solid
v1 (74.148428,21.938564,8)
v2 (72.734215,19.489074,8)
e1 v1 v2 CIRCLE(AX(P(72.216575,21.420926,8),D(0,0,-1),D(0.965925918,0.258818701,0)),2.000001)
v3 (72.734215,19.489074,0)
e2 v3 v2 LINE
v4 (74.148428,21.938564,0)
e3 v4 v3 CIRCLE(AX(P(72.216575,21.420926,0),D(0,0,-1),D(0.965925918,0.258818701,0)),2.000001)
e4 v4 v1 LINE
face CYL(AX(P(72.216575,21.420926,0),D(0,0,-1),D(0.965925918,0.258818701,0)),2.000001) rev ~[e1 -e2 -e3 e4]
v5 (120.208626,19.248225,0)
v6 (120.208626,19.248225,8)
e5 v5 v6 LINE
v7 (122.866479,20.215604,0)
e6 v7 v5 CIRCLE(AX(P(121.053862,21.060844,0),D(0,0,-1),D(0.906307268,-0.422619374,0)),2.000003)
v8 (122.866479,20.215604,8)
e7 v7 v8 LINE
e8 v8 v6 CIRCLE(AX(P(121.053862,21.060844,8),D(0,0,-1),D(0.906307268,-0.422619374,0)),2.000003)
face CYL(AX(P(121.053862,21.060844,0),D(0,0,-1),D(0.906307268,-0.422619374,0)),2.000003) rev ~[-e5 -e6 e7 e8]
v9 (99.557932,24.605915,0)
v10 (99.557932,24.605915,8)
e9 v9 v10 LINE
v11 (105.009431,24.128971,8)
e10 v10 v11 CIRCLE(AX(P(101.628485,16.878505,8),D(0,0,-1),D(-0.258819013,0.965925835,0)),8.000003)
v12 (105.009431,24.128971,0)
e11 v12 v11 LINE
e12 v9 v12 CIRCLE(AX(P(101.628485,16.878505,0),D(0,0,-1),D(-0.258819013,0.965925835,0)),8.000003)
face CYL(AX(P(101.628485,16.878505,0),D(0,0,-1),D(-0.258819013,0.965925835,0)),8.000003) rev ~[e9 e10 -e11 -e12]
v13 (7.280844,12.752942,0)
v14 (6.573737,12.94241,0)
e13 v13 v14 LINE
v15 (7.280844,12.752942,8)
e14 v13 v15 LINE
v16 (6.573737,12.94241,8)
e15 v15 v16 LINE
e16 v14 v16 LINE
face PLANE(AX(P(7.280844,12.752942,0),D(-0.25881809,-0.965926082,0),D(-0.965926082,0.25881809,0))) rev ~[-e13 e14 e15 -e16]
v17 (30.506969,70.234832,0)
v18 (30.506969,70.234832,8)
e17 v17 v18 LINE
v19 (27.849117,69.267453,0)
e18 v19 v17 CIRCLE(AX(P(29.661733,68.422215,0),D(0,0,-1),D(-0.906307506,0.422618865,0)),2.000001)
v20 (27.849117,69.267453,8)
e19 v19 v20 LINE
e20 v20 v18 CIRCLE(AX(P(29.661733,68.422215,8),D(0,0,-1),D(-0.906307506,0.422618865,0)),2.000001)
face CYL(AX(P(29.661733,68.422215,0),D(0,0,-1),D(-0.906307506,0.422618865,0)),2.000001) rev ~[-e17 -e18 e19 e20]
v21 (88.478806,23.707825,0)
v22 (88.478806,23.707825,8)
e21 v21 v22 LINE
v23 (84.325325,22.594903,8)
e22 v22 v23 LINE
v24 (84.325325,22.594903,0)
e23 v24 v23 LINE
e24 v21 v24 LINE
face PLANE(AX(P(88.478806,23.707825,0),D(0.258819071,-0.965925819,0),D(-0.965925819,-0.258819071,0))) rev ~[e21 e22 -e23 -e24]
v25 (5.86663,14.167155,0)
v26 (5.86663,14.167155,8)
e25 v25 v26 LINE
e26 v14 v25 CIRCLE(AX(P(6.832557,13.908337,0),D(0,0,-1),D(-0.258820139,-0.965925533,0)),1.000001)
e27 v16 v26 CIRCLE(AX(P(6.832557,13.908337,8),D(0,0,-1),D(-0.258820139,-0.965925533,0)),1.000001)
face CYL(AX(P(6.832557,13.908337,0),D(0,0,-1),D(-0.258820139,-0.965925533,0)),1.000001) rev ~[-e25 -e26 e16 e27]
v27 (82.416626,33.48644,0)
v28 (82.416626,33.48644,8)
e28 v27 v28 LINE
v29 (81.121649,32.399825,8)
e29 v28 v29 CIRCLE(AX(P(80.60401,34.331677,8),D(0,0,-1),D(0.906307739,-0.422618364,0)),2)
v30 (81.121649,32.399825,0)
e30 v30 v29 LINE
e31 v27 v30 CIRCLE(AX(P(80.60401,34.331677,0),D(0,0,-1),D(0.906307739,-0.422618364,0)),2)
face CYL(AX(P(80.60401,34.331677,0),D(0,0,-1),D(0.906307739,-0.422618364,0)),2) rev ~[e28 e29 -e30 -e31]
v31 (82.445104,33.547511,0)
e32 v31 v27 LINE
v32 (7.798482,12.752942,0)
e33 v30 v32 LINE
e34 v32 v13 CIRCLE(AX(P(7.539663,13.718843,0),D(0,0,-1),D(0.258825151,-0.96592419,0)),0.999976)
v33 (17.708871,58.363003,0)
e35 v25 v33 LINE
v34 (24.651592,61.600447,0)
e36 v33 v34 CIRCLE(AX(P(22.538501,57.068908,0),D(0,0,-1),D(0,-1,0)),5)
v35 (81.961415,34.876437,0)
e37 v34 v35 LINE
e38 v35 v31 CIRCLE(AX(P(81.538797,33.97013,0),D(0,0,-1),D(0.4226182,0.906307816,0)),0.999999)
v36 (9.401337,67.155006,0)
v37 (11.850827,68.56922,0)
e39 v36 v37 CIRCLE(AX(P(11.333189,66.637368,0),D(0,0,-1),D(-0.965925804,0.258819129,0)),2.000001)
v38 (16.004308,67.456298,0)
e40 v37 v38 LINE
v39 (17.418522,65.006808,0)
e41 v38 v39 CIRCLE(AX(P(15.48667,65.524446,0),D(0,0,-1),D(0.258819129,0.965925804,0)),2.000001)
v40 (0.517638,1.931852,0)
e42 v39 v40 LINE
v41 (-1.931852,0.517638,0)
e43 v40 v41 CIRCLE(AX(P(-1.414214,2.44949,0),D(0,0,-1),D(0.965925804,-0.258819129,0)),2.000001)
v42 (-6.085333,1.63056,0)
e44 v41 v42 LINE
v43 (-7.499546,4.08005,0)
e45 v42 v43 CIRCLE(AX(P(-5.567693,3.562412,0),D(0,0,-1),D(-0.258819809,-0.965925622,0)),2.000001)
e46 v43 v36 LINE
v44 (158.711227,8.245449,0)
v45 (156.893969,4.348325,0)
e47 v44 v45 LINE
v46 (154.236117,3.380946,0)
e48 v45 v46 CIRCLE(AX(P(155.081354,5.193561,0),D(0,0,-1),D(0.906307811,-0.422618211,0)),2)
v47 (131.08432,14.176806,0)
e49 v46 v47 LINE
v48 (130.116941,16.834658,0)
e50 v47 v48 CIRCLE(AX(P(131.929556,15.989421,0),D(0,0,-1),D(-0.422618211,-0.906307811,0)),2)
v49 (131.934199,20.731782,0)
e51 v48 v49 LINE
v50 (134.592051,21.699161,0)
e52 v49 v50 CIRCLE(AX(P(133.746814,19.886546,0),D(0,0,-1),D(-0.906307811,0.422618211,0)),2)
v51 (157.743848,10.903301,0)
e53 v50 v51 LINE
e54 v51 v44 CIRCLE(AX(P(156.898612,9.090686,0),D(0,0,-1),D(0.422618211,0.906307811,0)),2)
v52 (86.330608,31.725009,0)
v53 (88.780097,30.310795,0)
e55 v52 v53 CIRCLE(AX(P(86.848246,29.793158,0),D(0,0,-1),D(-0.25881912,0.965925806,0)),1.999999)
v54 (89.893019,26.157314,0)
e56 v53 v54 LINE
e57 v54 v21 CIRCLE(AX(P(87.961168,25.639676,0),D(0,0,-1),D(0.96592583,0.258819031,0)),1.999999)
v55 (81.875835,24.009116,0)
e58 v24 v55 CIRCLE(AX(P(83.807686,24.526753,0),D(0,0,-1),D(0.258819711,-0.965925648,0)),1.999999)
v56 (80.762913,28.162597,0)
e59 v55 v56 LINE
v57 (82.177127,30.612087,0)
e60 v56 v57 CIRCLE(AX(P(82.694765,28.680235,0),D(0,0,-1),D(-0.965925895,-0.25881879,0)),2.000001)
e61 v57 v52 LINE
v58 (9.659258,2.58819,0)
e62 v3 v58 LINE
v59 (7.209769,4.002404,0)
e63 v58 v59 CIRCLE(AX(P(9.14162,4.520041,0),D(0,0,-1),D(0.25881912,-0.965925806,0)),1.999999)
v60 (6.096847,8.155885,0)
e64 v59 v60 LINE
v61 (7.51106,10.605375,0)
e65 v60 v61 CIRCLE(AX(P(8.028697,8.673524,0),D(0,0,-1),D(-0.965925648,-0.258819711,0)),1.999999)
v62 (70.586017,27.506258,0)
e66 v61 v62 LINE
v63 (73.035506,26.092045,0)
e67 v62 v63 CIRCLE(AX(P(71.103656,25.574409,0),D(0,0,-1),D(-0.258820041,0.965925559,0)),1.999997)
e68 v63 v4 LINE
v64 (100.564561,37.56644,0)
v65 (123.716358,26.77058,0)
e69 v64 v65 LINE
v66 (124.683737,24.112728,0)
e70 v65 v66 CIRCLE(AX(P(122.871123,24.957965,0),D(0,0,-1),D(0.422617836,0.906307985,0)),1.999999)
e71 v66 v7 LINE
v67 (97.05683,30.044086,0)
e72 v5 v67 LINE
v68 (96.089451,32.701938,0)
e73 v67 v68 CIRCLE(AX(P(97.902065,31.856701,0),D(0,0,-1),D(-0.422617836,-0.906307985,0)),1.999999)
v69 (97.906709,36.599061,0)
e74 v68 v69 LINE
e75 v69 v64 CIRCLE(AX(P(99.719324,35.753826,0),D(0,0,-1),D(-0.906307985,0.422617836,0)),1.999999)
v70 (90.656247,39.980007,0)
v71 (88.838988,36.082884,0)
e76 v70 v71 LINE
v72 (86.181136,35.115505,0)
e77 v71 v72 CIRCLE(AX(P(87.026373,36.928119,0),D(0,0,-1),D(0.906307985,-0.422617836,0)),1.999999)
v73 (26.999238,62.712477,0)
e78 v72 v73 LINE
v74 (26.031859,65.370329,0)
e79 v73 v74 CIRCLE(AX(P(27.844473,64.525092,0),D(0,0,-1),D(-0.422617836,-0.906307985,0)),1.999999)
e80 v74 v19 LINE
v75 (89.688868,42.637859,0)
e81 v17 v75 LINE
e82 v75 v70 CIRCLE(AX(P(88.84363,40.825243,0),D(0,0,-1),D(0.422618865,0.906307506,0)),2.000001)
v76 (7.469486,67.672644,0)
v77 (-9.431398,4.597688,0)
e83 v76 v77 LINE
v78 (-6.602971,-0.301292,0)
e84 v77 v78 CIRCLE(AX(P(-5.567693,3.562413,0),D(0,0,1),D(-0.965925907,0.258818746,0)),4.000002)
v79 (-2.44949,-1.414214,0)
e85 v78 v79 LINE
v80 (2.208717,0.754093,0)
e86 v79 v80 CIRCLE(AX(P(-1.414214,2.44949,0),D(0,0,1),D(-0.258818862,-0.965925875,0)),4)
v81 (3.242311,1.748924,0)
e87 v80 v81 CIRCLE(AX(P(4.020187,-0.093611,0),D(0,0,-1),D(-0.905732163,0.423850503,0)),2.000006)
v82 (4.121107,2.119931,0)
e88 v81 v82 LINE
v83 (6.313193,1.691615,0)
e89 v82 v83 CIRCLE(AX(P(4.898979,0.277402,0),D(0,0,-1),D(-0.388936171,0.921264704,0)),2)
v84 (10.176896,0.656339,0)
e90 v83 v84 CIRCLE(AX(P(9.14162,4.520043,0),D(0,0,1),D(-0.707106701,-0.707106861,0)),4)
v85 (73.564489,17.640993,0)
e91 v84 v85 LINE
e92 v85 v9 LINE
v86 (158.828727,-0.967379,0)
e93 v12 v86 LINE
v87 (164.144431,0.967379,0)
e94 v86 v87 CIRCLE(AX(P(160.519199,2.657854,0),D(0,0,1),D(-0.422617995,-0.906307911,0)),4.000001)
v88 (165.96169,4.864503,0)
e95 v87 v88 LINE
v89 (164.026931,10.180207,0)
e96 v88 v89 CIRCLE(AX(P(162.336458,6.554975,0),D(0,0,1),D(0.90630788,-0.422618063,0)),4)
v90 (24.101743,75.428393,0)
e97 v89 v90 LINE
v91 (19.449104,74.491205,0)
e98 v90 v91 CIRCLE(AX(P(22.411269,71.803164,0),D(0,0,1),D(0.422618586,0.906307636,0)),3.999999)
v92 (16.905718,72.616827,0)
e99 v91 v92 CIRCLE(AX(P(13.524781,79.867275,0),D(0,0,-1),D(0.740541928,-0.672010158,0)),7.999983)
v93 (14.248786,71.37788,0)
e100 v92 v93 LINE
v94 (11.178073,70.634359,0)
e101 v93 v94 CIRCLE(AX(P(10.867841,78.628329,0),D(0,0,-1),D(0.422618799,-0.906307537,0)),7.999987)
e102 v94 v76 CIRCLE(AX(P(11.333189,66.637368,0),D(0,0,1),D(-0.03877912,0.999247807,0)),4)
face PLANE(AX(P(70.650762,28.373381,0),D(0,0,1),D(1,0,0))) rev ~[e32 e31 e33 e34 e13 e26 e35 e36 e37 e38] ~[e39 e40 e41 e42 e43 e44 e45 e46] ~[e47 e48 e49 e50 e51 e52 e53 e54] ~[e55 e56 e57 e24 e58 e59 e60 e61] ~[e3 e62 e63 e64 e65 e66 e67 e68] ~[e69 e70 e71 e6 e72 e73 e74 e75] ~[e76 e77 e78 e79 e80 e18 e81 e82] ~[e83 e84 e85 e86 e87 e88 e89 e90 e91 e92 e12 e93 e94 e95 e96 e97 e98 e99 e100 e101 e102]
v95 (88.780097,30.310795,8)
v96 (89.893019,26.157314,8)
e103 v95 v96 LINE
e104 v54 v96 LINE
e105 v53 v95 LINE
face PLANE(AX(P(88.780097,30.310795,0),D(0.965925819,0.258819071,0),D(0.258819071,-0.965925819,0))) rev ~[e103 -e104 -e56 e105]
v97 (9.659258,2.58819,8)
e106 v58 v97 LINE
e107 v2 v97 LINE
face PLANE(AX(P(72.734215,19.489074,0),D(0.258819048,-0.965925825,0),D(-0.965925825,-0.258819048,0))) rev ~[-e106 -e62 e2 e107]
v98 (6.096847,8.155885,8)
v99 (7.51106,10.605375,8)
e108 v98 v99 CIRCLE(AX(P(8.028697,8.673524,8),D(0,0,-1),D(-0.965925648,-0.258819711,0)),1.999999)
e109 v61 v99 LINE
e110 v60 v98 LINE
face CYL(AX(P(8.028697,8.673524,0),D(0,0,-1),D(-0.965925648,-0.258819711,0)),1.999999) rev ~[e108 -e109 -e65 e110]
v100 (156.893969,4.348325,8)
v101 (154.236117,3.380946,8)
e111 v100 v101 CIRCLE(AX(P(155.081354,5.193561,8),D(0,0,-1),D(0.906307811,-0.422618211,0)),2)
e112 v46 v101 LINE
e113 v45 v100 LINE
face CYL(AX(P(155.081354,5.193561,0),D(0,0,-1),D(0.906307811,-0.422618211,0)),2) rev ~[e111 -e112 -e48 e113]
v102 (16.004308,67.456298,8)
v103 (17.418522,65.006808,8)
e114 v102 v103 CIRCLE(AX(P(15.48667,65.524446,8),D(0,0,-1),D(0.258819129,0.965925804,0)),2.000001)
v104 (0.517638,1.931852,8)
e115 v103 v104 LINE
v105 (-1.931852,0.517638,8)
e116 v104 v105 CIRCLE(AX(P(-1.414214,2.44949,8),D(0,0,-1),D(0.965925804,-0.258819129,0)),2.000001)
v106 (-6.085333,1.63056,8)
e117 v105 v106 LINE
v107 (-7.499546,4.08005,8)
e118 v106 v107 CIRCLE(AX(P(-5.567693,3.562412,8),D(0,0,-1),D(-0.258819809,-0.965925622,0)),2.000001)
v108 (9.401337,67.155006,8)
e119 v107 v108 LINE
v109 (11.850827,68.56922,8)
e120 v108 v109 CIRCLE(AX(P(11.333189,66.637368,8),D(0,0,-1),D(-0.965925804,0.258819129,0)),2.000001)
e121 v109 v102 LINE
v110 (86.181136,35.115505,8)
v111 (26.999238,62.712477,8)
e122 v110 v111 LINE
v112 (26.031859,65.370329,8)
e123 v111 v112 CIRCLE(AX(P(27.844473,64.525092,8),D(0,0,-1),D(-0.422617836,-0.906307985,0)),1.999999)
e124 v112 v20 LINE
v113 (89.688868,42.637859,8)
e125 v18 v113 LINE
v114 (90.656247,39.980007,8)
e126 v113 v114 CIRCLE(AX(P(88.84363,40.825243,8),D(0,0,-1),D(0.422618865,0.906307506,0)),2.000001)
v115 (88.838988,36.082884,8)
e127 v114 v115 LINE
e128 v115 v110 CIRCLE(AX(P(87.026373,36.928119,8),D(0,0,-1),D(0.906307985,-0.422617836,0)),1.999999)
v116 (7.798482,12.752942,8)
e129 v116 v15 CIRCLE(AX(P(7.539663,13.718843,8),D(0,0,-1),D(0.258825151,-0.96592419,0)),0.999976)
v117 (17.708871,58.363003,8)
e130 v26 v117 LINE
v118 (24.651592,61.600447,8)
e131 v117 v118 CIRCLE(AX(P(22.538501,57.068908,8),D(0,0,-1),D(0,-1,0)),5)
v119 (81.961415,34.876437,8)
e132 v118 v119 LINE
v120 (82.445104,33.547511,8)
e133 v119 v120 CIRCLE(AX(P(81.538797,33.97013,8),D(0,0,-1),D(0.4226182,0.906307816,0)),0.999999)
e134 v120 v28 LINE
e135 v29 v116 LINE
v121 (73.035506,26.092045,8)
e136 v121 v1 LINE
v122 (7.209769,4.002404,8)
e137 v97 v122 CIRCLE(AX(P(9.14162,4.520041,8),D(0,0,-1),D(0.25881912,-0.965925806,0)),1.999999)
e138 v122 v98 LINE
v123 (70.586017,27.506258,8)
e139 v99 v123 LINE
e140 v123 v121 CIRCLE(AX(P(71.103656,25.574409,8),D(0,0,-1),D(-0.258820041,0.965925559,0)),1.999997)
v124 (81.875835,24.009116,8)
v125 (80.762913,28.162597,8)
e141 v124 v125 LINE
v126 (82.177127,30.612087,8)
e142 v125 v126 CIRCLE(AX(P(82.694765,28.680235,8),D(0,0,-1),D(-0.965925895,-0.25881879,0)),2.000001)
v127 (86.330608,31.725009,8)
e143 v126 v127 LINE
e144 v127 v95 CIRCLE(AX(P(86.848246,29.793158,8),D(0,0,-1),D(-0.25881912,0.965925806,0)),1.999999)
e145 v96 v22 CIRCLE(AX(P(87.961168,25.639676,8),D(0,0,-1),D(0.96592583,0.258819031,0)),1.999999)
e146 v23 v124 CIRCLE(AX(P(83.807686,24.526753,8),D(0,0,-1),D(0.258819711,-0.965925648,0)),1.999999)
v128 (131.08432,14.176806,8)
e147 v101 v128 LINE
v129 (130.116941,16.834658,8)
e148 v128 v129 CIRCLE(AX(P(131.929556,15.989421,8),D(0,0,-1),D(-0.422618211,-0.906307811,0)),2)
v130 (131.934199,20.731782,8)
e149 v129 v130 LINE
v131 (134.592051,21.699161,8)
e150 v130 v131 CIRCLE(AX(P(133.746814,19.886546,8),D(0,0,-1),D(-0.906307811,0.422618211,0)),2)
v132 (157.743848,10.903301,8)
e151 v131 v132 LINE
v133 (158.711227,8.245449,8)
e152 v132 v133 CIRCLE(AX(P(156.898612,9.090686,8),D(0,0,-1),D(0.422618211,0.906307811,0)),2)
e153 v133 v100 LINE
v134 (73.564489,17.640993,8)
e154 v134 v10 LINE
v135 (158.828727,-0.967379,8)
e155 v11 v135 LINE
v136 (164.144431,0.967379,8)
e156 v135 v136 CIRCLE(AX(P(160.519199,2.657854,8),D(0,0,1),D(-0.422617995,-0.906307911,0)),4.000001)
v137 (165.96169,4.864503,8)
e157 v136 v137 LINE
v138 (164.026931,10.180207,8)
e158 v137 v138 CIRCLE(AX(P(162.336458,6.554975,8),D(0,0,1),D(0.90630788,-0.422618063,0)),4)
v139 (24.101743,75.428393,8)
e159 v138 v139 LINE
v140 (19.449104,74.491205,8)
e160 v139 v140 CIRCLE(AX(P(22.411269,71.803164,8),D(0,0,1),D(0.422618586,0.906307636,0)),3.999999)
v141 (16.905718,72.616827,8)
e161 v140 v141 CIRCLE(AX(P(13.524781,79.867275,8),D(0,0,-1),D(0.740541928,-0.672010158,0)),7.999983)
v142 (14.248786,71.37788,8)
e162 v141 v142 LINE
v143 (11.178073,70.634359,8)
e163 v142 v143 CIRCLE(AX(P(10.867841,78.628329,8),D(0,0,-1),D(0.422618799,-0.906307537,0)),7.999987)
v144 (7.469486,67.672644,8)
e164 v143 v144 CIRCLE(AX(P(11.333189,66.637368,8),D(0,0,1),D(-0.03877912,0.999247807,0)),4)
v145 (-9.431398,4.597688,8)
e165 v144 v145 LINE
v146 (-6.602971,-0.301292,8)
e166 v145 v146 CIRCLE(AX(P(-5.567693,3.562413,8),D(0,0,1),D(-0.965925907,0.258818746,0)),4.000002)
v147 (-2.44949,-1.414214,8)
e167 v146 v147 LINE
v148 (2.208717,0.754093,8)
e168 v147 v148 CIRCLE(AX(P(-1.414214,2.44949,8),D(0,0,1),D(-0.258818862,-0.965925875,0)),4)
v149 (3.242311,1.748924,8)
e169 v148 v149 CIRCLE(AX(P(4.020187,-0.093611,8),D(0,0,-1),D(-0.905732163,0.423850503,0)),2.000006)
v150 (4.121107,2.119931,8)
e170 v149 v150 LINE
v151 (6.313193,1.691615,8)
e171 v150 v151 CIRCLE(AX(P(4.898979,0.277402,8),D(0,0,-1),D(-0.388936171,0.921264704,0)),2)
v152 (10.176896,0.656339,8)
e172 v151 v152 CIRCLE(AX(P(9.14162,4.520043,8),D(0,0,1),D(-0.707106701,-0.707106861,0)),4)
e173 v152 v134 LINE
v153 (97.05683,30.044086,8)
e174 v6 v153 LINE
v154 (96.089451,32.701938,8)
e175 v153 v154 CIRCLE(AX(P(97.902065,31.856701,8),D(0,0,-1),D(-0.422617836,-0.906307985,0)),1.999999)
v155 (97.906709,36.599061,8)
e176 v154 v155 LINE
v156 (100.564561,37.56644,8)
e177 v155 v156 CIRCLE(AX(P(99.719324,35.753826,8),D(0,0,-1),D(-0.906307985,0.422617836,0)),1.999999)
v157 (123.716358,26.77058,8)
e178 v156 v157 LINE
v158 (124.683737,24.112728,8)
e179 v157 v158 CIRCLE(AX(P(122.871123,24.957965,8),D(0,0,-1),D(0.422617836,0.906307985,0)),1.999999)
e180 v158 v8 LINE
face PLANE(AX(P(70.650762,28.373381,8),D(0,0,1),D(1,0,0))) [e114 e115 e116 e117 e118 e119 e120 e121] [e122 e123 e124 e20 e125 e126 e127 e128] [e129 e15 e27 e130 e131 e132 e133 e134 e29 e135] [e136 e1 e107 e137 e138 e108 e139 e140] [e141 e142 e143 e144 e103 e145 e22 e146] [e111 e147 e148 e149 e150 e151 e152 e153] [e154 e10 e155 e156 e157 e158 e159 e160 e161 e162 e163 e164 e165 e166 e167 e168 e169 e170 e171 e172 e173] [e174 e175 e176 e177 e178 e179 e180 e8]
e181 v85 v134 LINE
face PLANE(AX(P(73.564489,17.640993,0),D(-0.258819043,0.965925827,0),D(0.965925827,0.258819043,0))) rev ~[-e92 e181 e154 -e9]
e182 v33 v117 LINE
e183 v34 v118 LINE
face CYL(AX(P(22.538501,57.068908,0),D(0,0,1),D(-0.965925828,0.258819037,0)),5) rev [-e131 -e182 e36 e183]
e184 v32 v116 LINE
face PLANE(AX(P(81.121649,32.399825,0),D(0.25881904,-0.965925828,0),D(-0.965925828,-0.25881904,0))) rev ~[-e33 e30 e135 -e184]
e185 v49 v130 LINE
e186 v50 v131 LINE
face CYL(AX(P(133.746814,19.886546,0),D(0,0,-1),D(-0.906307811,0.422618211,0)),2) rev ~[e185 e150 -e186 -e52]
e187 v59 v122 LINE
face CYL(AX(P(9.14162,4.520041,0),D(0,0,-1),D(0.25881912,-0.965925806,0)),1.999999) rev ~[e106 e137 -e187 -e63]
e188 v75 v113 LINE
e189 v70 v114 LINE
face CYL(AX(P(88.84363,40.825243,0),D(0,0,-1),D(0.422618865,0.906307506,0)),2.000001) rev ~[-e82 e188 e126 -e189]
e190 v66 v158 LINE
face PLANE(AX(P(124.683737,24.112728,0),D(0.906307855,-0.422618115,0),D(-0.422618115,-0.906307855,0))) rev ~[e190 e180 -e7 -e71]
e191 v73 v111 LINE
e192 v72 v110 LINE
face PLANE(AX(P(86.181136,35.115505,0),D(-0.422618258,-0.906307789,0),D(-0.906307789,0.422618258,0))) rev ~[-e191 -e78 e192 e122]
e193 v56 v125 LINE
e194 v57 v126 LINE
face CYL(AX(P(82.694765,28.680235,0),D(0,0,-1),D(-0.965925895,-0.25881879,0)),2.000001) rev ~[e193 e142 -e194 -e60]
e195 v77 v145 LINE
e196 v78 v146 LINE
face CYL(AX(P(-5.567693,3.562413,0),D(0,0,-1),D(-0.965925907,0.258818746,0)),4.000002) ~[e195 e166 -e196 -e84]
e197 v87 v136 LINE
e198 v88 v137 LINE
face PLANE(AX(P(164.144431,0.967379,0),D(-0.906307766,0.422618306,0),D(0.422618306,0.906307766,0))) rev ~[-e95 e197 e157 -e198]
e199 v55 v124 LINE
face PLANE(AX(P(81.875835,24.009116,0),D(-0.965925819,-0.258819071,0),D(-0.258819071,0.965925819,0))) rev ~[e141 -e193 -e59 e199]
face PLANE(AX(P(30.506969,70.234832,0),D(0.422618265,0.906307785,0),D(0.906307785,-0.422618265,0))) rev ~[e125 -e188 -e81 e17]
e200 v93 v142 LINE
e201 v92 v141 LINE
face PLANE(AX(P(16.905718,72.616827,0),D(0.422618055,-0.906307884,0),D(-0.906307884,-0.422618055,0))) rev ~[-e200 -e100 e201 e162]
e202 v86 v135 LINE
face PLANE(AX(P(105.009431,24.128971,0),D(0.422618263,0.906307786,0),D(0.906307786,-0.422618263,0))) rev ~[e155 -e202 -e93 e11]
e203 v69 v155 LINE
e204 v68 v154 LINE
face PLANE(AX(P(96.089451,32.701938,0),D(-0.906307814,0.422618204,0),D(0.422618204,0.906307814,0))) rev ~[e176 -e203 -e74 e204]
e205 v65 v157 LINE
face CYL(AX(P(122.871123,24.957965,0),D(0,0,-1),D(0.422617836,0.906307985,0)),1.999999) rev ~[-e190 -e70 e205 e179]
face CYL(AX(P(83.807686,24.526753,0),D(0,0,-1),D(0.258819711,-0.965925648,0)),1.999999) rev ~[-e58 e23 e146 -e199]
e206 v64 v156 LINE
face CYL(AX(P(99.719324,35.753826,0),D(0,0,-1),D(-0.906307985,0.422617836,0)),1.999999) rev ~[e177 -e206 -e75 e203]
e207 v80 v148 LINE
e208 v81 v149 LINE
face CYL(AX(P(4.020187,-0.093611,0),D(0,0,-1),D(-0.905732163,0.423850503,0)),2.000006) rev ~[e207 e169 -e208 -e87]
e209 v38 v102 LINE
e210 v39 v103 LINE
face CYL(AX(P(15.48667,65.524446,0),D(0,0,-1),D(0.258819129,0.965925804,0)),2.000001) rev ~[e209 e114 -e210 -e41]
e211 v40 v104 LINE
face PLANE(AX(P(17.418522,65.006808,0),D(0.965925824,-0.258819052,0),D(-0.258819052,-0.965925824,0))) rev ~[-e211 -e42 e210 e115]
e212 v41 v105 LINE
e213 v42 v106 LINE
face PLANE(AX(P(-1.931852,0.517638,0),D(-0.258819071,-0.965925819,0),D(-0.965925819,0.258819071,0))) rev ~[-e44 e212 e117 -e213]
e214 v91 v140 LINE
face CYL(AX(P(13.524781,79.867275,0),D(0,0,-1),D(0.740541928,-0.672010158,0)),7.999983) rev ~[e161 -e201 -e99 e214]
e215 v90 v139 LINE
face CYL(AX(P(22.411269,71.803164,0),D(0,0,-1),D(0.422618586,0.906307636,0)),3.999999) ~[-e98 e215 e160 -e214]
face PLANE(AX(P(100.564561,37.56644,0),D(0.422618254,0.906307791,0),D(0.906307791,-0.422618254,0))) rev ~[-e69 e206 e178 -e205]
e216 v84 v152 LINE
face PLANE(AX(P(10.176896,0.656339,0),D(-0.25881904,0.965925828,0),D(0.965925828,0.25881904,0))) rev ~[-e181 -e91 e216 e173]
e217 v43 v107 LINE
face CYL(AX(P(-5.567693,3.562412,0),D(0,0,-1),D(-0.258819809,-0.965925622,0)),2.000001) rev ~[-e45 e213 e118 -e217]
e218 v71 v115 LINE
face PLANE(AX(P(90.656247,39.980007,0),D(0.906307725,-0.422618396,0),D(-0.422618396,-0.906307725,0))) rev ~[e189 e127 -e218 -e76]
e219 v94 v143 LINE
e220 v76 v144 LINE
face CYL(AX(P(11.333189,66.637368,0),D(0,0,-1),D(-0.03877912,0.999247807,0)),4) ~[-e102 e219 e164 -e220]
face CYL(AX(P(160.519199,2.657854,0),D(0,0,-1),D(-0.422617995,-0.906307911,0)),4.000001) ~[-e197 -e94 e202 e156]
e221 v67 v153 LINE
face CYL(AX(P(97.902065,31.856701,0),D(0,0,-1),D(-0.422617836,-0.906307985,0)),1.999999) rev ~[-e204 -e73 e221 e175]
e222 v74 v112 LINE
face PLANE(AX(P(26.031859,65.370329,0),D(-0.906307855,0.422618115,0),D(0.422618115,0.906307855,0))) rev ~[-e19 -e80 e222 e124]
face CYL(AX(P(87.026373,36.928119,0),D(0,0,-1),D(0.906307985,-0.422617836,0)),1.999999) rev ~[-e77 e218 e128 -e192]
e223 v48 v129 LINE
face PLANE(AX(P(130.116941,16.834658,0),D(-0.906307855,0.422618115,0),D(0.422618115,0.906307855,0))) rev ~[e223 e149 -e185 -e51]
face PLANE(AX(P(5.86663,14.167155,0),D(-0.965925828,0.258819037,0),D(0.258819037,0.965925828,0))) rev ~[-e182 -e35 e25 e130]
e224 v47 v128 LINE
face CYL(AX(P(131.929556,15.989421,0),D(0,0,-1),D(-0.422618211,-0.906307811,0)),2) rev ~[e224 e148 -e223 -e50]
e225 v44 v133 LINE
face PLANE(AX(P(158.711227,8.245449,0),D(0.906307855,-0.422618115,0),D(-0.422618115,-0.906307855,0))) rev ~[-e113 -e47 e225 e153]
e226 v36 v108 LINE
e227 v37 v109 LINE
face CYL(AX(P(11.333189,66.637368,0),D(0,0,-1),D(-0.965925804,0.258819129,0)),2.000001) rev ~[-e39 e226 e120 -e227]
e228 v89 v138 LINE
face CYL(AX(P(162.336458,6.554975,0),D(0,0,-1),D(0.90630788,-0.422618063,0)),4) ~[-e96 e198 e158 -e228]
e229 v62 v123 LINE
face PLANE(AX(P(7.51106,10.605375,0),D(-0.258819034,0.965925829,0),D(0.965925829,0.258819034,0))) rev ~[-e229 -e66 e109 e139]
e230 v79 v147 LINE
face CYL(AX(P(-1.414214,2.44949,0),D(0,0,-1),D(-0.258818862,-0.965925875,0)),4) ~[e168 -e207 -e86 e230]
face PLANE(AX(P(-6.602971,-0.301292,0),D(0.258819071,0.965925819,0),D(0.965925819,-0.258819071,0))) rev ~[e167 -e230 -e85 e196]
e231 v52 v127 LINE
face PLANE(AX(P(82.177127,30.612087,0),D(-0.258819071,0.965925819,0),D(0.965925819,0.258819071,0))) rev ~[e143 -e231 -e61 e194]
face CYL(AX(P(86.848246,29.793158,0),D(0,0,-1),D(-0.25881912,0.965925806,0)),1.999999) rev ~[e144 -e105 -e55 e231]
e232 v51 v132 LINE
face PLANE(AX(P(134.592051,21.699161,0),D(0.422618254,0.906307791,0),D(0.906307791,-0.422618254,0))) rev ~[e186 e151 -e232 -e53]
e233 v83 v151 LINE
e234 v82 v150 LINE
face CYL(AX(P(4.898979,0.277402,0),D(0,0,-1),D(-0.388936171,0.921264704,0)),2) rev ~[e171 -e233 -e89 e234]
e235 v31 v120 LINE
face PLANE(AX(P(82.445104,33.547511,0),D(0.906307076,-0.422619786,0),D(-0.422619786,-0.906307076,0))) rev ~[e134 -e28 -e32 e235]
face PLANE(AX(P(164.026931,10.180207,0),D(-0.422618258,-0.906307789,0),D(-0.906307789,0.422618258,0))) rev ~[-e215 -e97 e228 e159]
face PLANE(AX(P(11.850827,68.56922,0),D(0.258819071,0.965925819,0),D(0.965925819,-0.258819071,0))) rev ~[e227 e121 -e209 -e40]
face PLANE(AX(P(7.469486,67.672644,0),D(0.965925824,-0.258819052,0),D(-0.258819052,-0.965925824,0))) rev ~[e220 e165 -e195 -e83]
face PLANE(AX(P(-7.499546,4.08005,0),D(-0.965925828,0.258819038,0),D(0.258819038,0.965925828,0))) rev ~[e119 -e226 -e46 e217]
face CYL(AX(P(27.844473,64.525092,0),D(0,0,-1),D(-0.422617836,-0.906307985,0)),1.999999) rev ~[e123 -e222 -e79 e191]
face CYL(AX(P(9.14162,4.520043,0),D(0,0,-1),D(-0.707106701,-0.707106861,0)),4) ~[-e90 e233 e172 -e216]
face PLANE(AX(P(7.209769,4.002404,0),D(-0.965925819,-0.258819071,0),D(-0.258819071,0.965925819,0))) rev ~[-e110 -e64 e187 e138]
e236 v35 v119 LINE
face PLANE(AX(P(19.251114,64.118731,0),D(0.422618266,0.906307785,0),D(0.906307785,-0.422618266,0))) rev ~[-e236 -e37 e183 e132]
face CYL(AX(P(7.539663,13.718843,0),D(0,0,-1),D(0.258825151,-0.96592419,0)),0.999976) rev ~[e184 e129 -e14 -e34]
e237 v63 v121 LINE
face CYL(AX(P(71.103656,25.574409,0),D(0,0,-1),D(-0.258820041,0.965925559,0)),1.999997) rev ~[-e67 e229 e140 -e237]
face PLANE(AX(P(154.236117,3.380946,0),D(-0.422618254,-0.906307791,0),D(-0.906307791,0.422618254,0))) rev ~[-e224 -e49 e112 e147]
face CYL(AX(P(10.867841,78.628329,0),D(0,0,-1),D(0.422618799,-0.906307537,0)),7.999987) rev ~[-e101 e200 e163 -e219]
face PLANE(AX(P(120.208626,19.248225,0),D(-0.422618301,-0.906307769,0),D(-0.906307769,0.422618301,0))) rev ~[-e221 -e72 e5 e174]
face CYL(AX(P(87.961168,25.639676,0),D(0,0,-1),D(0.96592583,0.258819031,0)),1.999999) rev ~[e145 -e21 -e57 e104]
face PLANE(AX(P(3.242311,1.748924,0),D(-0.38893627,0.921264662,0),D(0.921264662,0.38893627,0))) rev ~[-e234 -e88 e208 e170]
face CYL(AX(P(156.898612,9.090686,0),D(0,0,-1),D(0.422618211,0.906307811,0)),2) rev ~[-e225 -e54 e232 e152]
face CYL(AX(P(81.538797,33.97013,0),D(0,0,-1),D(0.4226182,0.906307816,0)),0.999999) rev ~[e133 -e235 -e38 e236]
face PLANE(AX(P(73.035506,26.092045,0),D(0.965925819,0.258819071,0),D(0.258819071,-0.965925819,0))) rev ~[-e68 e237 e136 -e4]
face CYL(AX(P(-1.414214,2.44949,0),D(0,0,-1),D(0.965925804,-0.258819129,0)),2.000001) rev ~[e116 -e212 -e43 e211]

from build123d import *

# Parameters (mm, degrees)
F1_DEPTH = 8
F2_R     = 5


with BuildPart() as f1:
    # F0 (on Top) → F1 (new body)
    with BuildSketch(Plane.XY):
        with BuildLine():
            ThreePointArc((14.248786, 71.37788), (12.750499, 70.853022), (11.178073, 70.634359))
            ThreePointArc((11.178073, 70.634359), (8.837059, 69.762961), (7.469486, 67.672644))
            Line((7.469486, 67.672644), (-9.431398, 4.597688))
            ThreePointArc((-9.431398, 4.597688), (-9.031796, 1.562412), (-6.602971, -0.301292))
            Line((-6.602971, -0.301292), (-2.44949, -1.414214))
            ThreePointArc((-2.44949, -1.414214), (0.273796, -1.176889), (2.208717, 0.754093))
            ThreePointArc((2.208717, 0.754093), (2.633248, 1.34737), (3.242311, 1.748924))
            Line((3.242311, 1.748924), (4.121107, 2.119931))
            ThreePointArc((4.121107, 2.119931), (5.282511, 2.240283), (6.313193, 1.691615))
            ThreePointArc((6.313193, 1.691615), (8.106344, 0.656339), (10.176896, 0.656339))
            Line((10.176896, 0.656339), (73.564489, 17.640993))
            Line((73.564489, 17.640993), (99.557932, 24.605915))
            ThreePointArc((99.557932, 24.605915), (102.325731, 24.848066), (105.009431, 24.128971))
            Line((105.009431, 24.128971), (158.828727, -0.967379))
            ThreePointArc((158.828727, -0.967379), (161.88728, -1.100918), (164.144431, 0.967379))
            Line((164.144431, 0.967379), (165.96169, 4.864503))
            ThreePointArc((165.96169, 4.864503), (166.095229, 7.923056), (164.026931, 10.180207))
            Line((164.026931, 10.180207), (24.101743, 75.428393))
            ThreePointArc((24.101743, 75.428393), (21.621409, 75.724402), (19.449104, 74.491205))
            ThreePointArc((19.449104, 74.491205), (18.270863, 73.42721), (16.905718, 72.616827))
            Line((16.905718, 72.616827), (14.248786, 71.37788))
        make_face()
        with BuildLine():
            ThreePointArc((9.659258, 2.58819), (8.14162, 2.787991), (7.209769, 4.002404))
            Line((7.209769, 4.002404), (6.096847, 8.155885))
            ThreePointArc((6.096847, 8.155885), (6.296647, 9.673523), (7.51106, 10.605375))
            Line((7.51106, 10.605375), (70.586017, 27.506258))
            ThreePointArc((70.586017, 27.506258), (72.103655, 27.306458), (73.035506, 26.092045))
            Line((73.035506, 26.092045), (74.148428, 21.938564))
            ThreePointArc((74.148428, 21.938564), (73.948627, 20.420926), (72.734215, 19.489074))
            Line((72.734215, 19.489074), (9.659258, 2.58819))
        make_face(mode=Mode.SUBTRACT)
        with BuildLine():
            Line((17.418522, 65.006808), (0.517638, 1.931852))
            ThreePointArc((0.517638, 1.931852), (-0.414214, 0.717439), (-1.931852, 0.517638))
            Line((-1.931852, 0.517638), (-6.085333, 1.63056))
            ThreePointArc((-6.085333, 1.63056), (-7.299745, 2.562412), (-7.499546, 4.08005))
            Line((-7.499546, 4.08005), (9.401337, 67.155006))
            ThreePointArc((9.401337, 67.155006), (10.333189, 68.369419), (11.850827, 68.56922))
            Line((11.850827, 68.56922), (16.004308, 67.456298))
            ThreePointArc((16.004308, 67.456298), (17.218721, 66.524446), (17.418522, 65.006808))
        make_face(mode=Mode.SUBTRACT)
        with BuildLine():
            Line((158.711227, 8.245449), (156.893969, 4.348325))
            ThreePointArc((156.893969, 4.348325), (155.765393, 3.314176), (154.236117, 3.380946))
            Line((154.236117, 3.380946), (131.08432, 14.176806))
            ThreePointArc((131.08432, 14.176806), (130.050171, 15.305382), (130.116941, 16.834658))
            Line((130.116941, 16.834658), (131.934199, 20.731782))
            ThreePointArc((131.934199, 20.731782), (133.062775, 21.765931), (134.592051, 21.699161))
            Line((134.592051, 21.699161), (157.743848, 10.903301))
            ThreePointArc((157.743848, 10.903301), (158.777997, 9.774725), (158.711227, 8.245449))
        make_face(mode=Mode.SUBTRACT)
        with BuildLine():
            Line((81.875835, 24.009116), (80.762913, 28.162597))
            ThreePointArc((80.762913, 28.162597), (80.962714, 29.680235), (82.177127, 30.612087))
            Line((82.177127, 30.612087), (86.330608, 31.725009))
            ThreePointArc((86.330608, 31.725009), (87.848246, 31.525208), (88.780097, 30.310795))
            Line((88.780097, 30.310795), (89.893019, 26.157314))
            ThreePointArc((89.893019, 26.157314), (89.693218, 24.639676), (88.478806, 23.707825))
            Line((88.478806, 23.707825), (84.325325, 22.594903))
            ThreePointArc((84.325325, 22.594903), (82.807687, 22.794703), (81.875835, 24.009116))
        make_face(mode=Mode.SUBTRACT)
        with BuildLine():
            Line((96.089451, 32.701938), (97.906709, 36.599061))
            ThreePointArc((97.906709, 36.599061), (99.035284, 37.63321), (100.564561, 37.56644))
            Line((100.564561, 37.56644), (123.716358, 26.77058))
            ThreePointArc((123.716358, 26.77058), (124.750507, 25.642005), (124.683737, 24.112728))
            Line((124.683737, 24.112728), (122.866479, 20.215604))
            ThreePointArc((122.866479, 20.215604), (121.737903, 19.181456), (120.208626, 19.248225))
            Line((120.208626, 19.248225), (97.05683, 30.044086))
            ThreePointArc((97.05683, 30.044086), (96.022681, 31.172661), (96.089451, 32.701938))
        make_face(mode=Mode.SUBTRACT)
        with BuildLine():
            ThreePointArc((6.573737, 12.94241), (5.966531, 13.408336), (5.86663, 14.167155))
            Line((5.86663, 14.167155), (19.251114, 64.118731))
            Line((19.251114, 64.118731), (81.961415, 34.876437))
            ThreePointArc((81.961415, 34.876437), (82.478489, 34.31215), (82.445104, 33.547511))
            Line((82.445104, 33.547511), (82.416626, 33.48644))
            ThreePointArc((82.416626, 33.48644), (81.889586, 32.799588), (81.121649, 32.399825))
            Line((81.121649, 32.399825), (7.798482, 12.752942))
            ThreePointArc((7.798482, 12.752942), (7.539663, 12.718867), (7.280844, 12.752942))
            Line((7.280844, 12.752942), (6.573737, 12.94241))
        make_face(mode=Mode.SUBTRACT)
        with BuildLine():
            ThreePointArc((26.999238, 62.712477), (25.965089, 63.841052), (26.031859, 65.370329))
            Line((26.031859, 65.370329), (27.849117, 69.267453))
            ThreePointArc((27.849117, 69.267453), (28.977692, 70.301601), (30.506969, 70.234832))
            Line((30.506969, 70.234832), (89.688868, 42.637859))
            ThreePointArc((89.688868, 42.637859), (90.723016, 41.509284), (90.656247, 39.980007))
            Line((90.656247, 39.980007), (88.838988, 36.082884))
            ThreePointArc((88.838988, 36.082884), (87.710413, 35.048735), (86.181136, 35.115505))
            Line((86.181136, 35.115505), (26.999238, 62.712477))
        make_face(mode=Mode.SUBTRACT)
    extrude(amount=F1_DEPTH)

    # F2
    f2_edges = [f1.edges().sort_by_distance(p)[0] for p in [
        (19.251114, 64.118731, 4),
    ]]
    fillet(f2_edges, radius=F2_R)


solid = f1.part
